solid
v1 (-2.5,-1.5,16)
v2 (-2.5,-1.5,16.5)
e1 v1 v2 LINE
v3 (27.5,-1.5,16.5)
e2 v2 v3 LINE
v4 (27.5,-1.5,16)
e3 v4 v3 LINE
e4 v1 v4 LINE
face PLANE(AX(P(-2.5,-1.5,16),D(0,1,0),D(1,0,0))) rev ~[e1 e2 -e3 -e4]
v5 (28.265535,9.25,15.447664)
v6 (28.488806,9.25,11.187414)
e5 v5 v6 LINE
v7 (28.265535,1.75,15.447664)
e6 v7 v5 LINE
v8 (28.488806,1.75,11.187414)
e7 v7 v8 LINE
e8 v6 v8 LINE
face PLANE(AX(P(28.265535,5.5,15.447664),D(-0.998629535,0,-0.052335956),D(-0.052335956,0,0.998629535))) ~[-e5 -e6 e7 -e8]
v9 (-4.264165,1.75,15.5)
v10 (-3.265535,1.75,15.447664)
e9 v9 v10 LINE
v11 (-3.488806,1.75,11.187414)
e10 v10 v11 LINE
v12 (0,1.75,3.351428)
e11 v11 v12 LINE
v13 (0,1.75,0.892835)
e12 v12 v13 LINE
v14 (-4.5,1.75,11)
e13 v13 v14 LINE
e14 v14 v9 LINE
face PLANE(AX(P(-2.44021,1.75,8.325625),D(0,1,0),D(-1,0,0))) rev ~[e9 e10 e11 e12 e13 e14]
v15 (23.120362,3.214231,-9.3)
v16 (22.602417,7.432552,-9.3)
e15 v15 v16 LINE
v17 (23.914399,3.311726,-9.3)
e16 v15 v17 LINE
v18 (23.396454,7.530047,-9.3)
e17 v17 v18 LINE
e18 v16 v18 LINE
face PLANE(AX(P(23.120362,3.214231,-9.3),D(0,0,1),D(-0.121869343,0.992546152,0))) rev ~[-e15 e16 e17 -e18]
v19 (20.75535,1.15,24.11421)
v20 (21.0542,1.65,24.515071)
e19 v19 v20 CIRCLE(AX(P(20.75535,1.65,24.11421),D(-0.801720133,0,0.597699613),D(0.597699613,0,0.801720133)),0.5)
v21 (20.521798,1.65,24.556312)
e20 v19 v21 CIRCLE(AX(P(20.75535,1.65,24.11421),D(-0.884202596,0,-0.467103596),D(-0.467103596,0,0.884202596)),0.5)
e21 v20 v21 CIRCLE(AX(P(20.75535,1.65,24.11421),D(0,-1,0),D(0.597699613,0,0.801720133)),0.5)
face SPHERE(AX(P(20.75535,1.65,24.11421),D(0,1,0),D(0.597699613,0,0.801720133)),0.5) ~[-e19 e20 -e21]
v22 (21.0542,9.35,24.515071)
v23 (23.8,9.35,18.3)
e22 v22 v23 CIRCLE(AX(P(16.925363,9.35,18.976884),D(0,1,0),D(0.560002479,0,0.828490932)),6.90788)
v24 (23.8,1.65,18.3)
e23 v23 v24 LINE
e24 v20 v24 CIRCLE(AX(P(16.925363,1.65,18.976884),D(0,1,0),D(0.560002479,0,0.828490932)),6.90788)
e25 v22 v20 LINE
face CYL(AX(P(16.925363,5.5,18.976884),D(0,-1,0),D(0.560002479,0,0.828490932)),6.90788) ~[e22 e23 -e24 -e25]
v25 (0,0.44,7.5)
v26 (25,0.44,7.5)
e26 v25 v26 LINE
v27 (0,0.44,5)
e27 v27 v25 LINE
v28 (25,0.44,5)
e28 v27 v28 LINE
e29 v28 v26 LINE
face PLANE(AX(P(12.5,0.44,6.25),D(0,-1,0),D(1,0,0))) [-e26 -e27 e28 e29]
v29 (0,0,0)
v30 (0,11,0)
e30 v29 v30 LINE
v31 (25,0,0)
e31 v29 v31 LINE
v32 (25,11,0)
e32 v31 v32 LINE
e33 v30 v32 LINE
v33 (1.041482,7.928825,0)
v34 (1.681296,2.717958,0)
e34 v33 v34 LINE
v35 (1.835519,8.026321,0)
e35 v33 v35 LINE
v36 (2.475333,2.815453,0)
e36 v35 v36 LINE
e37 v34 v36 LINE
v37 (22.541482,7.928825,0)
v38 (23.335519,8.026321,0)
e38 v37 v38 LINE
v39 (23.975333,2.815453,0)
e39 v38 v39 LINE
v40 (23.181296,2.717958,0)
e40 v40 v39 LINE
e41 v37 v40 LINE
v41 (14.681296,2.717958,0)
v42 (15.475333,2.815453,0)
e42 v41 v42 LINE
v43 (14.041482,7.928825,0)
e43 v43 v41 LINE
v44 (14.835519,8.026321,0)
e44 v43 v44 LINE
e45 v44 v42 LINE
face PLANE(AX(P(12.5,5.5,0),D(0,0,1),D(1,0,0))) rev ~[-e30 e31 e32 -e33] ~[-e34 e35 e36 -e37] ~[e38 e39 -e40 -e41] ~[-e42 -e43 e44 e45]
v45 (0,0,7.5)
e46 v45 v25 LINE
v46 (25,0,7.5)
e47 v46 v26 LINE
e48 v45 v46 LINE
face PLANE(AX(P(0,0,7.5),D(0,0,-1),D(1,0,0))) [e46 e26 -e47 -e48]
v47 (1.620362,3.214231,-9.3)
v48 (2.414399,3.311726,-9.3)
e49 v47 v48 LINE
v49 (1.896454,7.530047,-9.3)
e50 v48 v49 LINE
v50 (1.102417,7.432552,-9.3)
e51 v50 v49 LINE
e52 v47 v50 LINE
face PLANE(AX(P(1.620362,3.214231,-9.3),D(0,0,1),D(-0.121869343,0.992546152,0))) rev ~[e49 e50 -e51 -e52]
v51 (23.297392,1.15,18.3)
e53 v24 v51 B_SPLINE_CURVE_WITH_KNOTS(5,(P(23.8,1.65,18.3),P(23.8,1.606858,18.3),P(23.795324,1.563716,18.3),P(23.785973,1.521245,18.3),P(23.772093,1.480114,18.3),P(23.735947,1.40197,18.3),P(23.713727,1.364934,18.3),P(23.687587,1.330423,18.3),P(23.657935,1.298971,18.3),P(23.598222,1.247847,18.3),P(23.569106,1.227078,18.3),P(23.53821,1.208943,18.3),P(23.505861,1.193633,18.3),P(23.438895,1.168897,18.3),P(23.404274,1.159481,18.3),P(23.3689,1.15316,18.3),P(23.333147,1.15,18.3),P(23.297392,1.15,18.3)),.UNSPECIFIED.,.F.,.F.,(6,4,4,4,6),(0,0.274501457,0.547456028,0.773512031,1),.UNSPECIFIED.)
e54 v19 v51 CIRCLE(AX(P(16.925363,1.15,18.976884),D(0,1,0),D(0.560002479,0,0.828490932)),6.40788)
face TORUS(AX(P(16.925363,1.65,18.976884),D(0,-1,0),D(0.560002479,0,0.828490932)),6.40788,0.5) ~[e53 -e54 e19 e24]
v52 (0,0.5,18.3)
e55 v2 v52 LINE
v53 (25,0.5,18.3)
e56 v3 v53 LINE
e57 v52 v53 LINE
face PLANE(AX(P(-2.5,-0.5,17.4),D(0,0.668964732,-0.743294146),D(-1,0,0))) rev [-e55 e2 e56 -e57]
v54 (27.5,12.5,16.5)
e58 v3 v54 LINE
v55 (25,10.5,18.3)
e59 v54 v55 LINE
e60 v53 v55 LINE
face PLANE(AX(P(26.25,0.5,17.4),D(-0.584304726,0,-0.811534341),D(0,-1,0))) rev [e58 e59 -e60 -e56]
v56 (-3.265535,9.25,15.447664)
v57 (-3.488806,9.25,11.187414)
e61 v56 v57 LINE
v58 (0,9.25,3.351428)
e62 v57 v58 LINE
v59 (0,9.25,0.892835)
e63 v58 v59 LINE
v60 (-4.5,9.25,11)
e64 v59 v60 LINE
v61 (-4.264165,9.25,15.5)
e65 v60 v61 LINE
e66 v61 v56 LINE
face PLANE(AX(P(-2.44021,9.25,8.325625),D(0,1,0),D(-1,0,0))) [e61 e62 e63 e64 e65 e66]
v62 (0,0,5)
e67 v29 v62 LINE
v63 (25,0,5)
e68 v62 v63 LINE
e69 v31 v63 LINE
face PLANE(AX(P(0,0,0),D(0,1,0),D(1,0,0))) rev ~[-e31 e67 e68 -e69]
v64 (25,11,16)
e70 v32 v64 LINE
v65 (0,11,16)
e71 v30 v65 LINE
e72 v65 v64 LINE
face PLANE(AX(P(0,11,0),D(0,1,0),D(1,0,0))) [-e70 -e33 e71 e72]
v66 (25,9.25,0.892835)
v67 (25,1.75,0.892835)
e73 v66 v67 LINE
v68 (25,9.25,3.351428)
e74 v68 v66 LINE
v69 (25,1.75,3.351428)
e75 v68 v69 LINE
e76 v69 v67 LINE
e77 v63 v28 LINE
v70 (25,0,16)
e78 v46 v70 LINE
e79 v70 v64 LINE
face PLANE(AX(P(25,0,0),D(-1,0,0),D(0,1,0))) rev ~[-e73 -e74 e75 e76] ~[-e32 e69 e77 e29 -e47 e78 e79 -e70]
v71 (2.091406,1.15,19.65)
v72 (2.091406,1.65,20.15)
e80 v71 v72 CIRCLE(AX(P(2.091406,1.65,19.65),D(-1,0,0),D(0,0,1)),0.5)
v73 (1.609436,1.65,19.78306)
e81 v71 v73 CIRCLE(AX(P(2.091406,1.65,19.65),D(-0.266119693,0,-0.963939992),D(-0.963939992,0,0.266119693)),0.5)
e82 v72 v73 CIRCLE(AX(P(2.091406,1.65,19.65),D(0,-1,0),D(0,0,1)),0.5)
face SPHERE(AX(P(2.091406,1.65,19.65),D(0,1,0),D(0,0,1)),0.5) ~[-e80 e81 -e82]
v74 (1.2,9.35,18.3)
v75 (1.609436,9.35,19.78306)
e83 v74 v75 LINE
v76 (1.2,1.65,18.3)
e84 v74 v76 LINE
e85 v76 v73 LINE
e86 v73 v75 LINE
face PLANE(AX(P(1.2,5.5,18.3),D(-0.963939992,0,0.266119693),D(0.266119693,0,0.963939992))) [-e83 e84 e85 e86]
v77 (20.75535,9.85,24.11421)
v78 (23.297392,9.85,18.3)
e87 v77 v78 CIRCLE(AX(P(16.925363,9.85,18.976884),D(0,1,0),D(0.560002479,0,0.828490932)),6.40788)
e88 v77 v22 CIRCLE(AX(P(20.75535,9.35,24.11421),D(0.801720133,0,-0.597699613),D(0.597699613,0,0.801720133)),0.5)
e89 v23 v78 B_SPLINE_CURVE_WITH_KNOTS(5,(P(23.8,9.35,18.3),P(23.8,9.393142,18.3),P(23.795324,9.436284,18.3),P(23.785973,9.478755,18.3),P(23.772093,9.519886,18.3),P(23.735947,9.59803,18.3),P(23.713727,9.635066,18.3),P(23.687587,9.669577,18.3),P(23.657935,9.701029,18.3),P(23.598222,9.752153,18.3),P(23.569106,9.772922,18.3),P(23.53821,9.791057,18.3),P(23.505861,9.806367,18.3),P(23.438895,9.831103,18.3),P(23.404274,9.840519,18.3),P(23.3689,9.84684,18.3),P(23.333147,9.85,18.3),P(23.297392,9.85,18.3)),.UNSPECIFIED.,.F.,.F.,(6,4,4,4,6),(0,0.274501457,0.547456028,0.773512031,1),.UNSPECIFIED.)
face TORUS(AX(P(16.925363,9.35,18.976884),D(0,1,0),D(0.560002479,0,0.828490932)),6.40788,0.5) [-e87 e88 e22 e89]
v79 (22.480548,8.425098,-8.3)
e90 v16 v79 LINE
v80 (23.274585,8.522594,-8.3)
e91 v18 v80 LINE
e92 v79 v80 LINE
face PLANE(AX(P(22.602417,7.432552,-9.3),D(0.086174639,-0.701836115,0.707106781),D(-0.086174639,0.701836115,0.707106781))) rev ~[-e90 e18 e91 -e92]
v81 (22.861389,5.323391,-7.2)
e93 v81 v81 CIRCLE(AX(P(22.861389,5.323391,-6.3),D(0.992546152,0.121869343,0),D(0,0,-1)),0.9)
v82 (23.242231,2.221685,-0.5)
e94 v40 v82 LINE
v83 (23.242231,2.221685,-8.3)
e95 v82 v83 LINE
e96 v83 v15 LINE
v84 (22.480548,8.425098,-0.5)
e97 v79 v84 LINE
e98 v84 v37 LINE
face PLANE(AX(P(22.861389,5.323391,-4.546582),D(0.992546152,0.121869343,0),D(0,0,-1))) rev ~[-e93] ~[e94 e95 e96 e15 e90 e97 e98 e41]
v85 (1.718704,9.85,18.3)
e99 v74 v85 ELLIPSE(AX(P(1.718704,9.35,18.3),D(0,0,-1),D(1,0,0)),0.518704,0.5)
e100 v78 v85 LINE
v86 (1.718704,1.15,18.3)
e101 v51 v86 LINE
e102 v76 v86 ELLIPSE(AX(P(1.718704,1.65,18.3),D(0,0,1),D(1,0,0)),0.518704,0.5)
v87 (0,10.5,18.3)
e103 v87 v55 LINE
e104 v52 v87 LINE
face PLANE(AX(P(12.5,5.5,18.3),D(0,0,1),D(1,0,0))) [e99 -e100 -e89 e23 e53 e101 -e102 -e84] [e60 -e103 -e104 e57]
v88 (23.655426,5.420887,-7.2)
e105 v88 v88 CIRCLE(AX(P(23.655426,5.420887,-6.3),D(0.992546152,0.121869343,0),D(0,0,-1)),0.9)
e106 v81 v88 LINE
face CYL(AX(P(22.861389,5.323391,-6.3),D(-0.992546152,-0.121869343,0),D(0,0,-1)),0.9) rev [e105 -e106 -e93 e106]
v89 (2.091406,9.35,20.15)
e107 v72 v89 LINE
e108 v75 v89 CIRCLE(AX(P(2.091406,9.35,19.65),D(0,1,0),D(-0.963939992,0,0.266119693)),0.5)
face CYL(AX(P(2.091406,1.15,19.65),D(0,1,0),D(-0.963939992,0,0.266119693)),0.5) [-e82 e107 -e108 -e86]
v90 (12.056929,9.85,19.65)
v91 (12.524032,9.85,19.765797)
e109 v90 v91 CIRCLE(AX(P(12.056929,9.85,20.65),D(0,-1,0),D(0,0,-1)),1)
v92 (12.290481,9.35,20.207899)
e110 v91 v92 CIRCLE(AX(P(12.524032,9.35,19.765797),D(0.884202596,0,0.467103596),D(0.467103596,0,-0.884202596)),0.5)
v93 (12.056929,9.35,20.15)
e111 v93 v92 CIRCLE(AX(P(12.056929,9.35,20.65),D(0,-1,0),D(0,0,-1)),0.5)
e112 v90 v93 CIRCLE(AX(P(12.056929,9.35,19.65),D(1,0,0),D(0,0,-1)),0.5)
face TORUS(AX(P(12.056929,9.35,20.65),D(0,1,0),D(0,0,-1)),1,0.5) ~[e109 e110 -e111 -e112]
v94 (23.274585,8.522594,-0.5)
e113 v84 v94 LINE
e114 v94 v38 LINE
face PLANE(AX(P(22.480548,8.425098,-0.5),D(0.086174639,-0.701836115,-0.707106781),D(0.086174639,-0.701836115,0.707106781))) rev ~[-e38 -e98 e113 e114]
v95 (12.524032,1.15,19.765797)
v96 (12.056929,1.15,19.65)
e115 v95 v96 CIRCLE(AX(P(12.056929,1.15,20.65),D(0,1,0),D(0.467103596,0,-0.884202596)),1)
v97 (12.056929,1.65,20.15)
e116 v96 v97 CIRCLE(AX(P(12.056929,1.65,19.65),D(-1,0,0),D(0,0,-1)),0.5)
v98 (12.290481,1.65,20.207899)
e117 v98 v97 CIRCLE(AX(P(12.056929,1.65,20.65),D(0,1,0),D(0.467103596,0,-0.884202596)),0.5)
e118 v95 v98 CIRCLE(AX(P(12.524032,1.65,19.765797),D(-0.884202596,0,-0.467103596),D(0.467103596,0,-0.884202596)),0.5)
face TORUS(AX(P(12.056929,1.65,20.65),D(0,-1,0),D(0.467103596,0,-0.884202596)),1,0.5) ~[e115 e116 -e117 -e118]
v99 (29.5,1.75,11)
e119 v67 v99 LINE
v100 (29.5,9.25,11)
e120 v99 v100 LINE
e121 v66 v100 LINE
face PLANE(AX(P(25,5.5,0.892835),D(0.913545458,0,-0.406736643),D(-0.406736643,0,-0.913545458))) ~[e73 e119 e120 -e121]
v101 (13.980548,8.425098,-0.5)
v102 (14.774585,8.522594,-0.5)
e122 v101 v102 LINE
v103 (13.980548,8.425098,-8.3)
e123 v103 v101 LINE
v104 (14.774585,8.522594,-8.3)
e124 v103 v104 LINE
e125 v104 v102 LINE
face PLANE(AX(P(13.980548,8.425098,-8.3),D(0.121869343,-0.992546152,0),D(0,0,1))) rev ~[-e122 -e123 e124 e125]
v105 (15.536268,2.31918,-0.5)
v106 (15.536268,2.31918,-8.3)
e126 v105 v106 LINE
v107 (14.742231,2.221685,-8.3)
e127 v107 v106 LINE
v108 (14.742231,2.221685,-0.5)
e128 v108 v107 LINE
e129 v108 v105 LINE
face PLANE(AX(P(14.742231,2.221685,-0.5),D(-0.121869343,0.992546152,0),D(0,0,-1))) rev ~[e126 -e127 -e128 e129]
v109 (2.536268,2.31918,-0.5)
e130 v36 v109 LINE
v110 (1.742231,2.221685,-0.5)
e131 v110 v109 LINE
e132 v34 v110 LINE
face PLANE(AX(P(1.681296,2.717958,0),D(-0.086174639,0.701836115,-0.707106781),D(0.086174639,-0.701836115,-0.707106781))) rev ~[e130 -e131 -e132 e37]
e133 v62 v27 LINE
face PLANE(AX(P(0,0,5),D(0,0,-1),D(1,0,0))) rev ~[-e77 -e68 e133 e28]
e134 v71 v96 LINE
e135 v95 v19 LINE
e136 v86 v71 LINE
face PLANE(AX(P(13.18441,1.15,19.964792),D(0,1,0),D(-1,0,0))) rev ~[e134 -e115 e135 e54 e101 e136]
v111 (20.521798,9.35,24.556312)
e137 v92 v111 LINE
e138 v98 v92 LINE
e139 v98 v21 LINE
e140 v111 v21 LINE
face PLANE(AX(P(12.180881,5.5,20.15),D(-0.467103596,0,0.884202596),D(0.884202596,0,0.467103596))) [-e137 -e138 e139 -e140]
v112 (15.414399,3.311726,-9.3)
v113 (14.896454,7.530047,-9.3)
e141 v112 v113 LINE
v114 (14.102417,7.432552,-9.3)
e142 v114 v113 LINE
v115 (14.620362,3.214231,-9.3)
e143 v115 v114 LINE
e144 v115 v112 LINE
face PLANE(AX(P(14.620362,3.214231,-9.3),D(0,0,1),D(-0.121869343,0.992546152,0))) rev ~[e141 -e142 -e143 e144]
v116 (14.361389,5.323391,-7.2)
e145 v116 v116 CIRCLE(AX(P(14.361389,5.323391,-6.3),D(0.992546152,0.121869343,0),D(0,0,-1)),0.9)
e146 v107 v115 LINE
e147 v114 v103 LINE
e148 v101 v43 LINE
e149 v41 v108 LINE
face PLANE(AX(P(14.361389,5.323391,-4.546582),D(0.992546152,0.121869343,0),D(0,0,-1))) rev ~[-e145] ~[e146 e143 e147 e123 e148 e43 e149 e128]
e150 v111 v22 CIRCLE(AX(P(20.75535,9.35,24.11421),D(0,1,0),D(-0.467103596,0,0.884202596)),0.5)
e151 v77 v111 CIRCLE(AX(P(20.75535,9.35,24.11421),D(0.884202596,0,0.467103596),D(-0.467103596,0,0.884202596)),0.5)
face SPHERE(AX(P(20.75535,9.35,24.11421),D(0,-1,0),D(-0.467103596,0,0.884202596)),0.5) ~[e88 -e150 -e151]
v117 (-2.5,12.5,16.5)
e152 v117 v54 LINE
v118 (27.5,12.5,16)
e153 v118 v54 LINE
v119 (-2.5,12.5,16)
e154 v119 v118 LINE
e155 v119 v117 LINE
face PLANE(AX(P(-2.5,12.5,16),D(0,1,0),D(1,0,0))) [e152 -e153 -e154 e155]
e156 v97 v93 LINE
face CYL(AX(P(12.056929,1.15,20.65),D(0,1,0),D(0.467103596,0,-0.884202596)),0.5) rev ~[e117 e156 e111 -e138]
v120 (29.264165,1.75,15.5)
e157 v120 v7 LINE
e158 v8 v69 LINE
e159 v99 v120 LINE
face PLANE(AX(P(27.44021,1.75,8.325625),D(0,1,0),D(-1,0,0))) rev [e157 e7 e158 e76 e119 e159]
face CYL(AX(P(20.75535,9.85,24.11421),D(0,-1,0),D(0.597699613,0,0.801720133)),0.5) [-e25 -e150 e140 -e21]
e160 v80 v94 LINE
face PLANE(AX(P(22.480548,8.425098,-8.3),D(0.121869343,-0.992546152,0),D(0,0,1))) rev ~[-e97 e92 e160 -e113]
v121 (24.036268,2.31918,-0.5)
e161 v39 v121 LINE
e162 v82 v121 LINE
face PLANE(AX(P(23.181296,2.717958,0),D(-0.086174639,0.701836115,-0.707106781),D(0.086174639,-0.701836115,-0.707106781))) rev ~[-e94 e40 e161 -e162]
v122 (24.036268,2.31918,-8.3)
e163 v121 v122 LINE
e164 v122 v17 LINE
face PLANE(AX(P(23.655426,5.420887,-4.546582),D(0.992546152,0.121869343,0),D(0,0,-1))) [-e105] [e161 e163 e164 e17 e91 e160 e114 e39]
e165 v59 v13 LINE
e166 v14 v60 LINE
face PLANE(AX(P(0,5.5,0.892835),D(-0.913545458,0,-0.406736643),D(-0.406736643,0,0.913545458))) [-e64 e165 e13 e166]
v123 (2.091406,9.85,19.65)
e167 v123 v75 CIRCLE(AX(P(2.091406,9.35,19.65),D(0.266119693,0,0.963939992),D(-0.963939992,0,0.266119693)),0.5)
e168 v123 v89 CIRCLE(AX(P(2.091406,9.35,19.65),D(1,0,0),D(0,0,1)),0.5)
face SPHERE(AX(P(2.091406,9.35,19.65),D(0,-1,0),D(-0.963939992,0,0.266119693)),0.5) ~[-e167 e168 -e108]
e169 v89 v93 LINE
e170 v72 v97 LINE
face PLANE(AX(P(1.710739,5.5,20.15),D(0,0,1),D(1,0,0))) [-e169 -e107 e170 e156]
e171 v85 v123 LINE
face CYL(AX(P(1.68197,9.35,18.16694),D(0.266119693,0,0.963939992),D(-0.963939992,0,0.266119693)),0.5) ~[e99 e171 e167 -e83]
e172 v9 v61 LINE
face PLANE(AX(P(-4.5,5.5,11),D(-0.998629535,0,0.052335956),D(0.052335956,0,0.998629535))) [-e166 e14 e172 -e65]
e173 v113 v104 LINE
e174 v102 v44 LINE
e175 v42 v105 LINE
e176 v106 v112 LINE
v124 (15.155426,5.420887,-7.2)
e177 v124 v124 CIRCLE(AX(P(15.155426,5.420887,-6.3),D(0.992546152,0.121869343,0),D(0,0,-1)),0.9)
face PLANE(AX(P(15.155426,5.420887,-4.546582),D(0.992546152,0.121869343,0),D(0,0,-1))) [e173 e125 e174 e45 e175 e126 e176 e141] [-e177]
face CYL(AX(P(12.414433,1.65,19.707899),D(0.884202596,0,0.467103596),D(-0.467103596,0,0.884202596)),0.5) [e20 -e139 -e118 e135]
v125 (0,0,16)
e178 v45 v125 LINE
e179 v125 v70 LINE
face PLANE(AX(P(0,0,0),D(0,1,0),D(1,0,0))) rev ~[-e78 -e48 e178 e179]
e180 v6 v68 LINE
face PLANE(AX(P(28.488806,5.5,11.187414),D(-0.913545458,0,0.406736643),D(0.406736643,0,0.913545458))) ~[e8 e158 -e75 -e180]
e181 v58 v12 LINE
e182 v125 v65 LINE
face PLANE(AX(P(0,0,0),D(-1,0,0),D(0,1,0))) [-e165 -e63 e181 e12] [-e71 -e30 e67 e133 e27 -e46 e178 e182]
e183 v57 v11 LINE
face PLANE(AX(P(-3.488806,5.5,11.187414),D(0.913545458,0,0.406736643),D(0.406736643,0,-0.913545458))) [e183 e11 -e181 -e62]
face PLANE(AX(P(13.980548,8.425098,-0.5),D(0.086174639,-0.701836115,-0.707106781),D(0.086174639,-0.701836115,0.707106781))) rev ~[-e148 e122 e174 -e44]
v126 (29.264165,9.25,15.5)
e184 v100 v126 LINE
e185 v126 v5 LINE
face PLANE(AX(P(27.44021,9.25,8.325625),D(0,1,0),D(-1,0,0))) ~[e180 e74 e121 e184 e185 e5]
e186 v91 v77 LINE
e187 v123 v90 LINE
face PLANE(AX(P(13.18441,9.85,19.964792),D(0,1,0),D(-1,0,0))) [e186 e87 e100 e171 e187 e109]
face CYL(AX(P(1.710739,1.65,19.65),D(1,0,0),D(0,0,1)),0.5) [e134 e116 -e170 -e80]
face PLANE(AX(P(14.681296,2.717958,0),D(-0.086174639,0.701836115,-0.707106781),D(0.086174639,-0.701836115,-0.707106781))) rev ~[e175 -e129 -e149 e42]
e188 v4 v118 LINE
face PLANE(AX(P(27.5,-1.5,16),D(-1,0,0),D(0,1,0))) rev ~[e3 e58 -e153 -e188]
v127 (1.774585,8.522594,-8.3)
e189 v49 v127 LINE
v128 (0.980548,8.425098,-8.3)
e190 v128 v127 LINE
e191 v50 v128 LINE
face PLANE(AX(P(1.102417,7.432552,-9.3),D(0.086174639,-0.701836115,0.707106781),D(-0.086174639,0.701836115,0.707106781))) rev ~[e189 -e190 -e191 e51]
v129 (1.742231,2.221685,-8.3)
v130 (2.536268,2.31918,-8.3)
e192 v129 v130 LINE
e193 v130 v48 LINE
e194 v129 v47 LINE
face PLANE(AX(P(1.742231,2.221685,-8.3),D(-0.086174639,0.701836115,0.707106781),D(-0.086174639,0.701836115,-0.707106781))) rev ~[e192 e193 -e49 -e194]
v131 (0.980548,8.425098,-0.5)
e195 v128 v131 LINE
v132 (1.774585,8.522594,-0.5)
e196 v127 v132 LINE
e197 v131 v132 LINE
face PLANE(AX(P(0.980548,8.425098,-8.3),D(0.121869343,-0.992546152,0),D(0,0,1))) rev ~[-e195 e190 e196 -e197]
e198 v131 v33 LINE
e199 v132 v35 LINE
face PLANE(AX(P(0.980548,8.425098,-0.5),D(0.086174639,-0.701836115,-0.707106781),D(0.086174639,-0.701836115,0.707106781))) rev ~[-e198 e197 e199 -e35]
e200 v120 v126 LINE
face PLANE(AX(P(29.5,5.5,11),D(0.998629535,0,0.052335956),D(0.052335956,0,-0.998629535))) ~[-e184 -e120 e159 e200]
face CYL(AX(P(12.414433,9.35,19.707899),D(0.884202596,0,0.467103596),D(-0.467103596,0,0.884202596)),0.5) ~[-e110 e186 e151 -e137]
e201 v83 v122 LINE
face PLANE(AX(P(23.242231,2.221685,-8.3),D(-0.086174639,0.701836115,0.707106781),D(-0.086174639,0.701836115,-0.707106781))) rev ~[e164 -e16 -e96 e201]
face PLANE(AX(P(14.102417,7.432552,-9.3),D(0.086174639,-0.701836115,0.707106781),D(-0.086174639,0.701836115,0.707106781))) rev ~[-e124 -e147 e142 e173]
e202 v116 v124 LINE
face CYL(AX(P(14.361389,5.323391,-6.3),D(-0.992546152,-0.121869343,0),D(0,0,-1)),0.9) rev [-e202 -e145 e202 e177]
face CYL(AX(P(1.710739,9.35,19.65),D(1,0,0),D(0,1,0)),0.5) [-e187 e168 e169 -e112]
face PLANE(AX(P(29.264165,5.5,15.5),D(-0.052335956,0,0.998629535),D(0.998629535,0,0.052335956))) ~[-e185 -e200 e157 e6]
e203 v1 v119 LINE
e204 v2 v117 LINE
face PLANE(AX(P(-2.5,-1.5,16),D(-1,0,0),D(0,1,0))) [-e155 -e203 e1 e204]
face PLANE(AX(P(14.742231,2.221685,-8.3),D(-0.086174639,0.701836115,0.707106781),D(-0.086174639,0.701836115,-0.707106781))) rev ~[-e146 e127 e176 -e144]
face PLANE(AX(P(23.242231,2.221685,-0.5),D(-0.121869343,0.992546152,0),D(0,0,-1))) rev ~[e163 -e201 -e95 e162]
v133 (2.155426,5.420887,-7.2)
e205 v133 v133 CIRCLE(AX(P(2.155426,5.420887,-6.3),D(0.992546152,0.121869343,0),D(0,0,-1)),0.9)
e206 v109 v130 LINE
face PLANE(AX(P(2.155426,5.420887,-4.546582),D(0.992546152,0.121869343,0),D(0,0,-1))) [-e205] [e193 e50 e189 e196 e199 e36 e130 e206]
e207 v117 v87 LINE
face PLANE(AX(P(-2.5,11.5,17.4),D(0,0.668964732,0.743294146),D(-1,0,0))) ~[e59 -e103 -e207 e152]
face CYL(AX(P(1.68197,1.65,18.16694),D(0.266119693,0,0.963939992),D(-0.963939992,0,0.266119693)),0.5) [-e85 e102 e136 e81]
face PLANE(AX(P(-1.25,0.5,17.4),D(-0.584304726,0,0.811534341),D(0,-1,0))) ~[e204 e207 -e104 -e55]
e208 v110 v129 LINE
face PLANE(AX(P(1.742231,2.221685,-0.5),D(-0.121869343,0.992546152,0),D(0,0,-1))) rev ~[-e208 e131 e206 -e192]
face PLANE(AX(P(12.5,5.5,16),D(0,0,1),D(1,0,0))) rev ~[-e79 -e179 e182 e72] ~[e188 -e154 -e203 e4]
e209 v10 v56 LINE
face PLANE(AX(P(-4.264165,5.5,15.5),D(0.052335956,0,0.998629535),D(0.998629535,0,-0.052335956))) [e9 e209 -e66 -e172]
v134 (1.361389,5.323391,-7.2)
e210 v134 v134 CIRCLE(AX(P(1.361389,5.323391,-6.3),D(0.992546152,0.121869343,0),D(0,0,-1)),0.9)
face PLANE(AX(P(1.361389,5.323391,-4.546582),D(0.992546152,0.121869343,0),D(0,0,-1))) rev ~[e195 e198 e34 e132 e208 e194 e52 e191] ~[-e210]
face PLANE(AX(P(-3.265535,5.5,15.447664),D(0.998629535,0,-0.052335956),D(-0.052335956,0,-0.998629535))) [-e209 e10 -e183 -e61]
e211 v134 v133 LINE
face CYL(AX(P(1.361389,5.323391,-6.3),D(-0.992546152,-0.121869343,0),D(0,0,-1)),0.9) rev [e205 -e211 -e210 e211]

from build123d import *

# Parameters (mm, degrees)
SKETCH1_W             = 25
SKETCH1_H             = 11
EXTRUDE1_DEPTH        = 16
SKETCH2_W             = 30
SKETCH2_H             = 14
EXTRUDE2_DEPTH        = 2.3
CHAMFER1_SIZE         = 1.8
CHAMFER1_SIZE2        = 2
CHAMFER1_PART_2_SIZE  = 1.8
CHAMFER1_PART_2_SIZE2 = 2
CHAMFER2_SIZE         = 1.8
CHAMFER2_SIZE2        = 2.5
CHAMFER2_PART_2_SIZE  = 1.8
CHAMFER2_PART_2_SIZE2 = 2.5
EXTRUDE3_DEPTH        = 3.75
EXTRUDE4_DEPTH        = 4.35
EXTRUDE4_DEPTH_BACK   = 4.35
FILLET1_R             = 0.5
SKETCH7_W             = 25
SKETCH7_H             = 2.5
CUT_EXTRUDE2_DEPTH    = 0.44
SKETCH8_R             = 0.9
EXTRUDE5_DEPTH        = 0.8
LPATTERN1_COUNT       = 2
LPATTERN1_PITCH       = 13
LPATTERN2_COUNT       = 2
LPATTERN2_PITCH       = 21.5


with BuildPart() as part:
    # Sketch1 → Extrude1 (new body)
    with BuildSketch(Plane.XY):
        with Locations((12.5, 5.5)):
            Rectangle(SKETCH1_W, SKETCH1_H)
    extrude(amount=EXTRUDE1_DEPTH)

    # Sketch2 → Extrude2 (add)
    with BuildSketch(Plane.XY.offset(16)):
        with Locations((12.5, 5.5)):
            Rectangle(SKETCH2_W, SKETCH2_H)
    extrude(amount=EXTRUDE2_DEPTH)

    # Chamfer1
    chamfer1_edges = [part.edges().sort_by_distance(p)[0] for p in [
        (12.5, -1.5, 18.3),
    ]]
    chamfer1_side = [part.faces().sort_by_distance(p)[0] for p in [
        (12.5, -1.5, 17.15),
    ]]
    chamfer(chamfer1_edges, length=CHAMFER1_SIZE, length2=CHAMFER1_SIZE2, reference=chamfer1_side[0])

    # Chamfer1 part 2
    chamfer1_part_2_edges = [part.edges().sort_by_distance(p)[0] for p in [
        (12.5, 12.5, 18.3),
    ]]
    chamfer1_part_2_side = [part.faces().sort_by_distance(p)[0] for p in [
        (12.5, 12.5, 17.15),
    ]]
    chamfer(chamfer1_part_2_edges, length=CHAMFER1_PART_2_SIZE, length2=CHAMFER1_PART_2_SIZE2, reference=chamfer1_part_2_side[0])

    # Chamfer2
    chamfer2_edges = [part.edges().sort_by_distance(p)[0] for p in [
        (27.5, 5.5, 18.3),
    ]]
    chamfer2_side = [part.faces().sort_by_distance(p)[0] for p in [
        (27.5, 5.5, 17.080769231),
    ]]
    chamfer(chamfer2_edges, length=CHAMFER2_SIZE, length2=CHAMFER2_SIZE2, reference=chamfer2_side[0])

    # Chamfer2 part 2
    chamfer2_part_2_edges = [part.edges().sort_by_distance(p)[0] for p in [
        (-2.5, 5.5, 18.3),
    ]]
    chamfer2_part_2_side = [part.faces().sort_by_distance(p)[0] for p in [
        (-2.5, 5.5, 17.080769231),
    ]]
    chamfer(chamfer2_part_2_edges, length=CHAMFER2_PART_2_SIZE, length2=CHAMFER2_PART_2_SIZE2, reference=chamfer2_part_2_side[0])

    # Sketch4 → Extrude3 (add, symmetric)
    with BuildSketch(Plane(origin=(0, 5.5, 0), x_dir=(-1, 0, 0), z_dir=(0, 1, 0))):
        Polygon((0, 0.892834517), (4.5, 11), (4.264164993, 15.5), (3.265535458, 15.447664044), (3.488805714, 11.187413783), (0, 3.351427853), align=None)
    extrude3 = extrude(amount=EXTRUDE3_DEPTH, both=True)

    # Mirror1: Extrude3 across plane
    add(extrude3.mirror(Plane(origin=(12.5, 0, 0), x_dir=(0, 0, 1), z_dir=(1, 0, 0))))

    # Sketch6 → Extrude4 (add, two sides)
    with BuildSketch(Plane(origin=(0, 5.5, 0), x_dir=(-1, 0, 0), z_dir=(0, 1, 0))) as extrude4_sk:
        with BuildLine():
            Line((-1.2, 18.3), (-1.710738672, 20.15))
            Line((-1.710738672, 20.15), (-12.18088144, 20.15))
            Line((-12.18088144, 20.15), (-20.793792675, 24.7))
            ThreePointArc((-20.793792675, 24.7), (-23.177832074, 21.913793041), (-23.8, 18.3))
            Line((-23.8, 18.3), (-1.2, 18.3))
        make_face()
    extrude(amount=EXTRUDE4_DEPTH)
    extrude(extrude4_sk.sketch, amount=-EXTRUDE4_DEPTH_BACK)

    # Fillet1
    fillet1_edges = [part.edges().sort_by_distance(p)[0] for p in [
        (1.455369336, 1.15, 19.225),
        (1.710738672, 5.5, 20.15),
        (6.945810056, 1.15, 20.15),
        (12.18088144, 5.5, 20.15),
        (16.487337058, 1.15, 22.425),
        (20.793792675, 5.5, 24.7),
        (23.177832074, 1.15, 21.913793041),
        (1.455369336, 9.85, 19.225),
        (6.945810056, 9.85, 20.15),
        (16.487337058, 9.85, 22.425),
        (23.177832074, 9.85, 21.913793041),
    ]]
    fillet(fillet1_edges, radius=FILLET1_R)

    # Sketch7 → Cut-Extrude2 (cut)
    with BuildSketch(Plane.XZ):
        with Locations((12.5, 6.25)):
            Rectangle(SKETCH7_W, SKETCH7_H)
    extrude(amount=-CUT_EXTRUDE2_DEPTH, mode=Mode.SUBTRACT)

    # Sketch8 → Extrude5 (add)
    with BuildSketch(Plane(origin=(1.985092303, 0.243738687, 0), x_dir=(0, 0, -1), z_dir=(0.992546152, 0.121869343, 0))):
        Polygon((8.3, 1.992800038), (9.3, 2.992800038), (9.3, 7.242800038), (8.3, 8.242800038), (0.5, 8.242800038), (0, 7.742800038), (0, 2.492800038), (0.5, 1.992800038), align=None)
        with Locations((6.3, 5.117800038)):
            Circle(SKETCH8_R, mode=Mode.SUBTRACT)
    extrude5 = extrude(amount=EXTRUDE5_DEPTH)

    # LPattern1: Extrude5 ×2
    with Locations(*[(i * LPATTERN1_PITCH, 0, 0) for i in range(1, LPATTERN1_COUNT)]):
        add(extrude5)

    # LPattern2: Extrude5 ×2
    with Locations(*[(i * LPATTERN2_PITCH, 0, 0) for i in range(1, LPATTERN2_COUNT)]):
        add(extrude5)


solid = part.part
